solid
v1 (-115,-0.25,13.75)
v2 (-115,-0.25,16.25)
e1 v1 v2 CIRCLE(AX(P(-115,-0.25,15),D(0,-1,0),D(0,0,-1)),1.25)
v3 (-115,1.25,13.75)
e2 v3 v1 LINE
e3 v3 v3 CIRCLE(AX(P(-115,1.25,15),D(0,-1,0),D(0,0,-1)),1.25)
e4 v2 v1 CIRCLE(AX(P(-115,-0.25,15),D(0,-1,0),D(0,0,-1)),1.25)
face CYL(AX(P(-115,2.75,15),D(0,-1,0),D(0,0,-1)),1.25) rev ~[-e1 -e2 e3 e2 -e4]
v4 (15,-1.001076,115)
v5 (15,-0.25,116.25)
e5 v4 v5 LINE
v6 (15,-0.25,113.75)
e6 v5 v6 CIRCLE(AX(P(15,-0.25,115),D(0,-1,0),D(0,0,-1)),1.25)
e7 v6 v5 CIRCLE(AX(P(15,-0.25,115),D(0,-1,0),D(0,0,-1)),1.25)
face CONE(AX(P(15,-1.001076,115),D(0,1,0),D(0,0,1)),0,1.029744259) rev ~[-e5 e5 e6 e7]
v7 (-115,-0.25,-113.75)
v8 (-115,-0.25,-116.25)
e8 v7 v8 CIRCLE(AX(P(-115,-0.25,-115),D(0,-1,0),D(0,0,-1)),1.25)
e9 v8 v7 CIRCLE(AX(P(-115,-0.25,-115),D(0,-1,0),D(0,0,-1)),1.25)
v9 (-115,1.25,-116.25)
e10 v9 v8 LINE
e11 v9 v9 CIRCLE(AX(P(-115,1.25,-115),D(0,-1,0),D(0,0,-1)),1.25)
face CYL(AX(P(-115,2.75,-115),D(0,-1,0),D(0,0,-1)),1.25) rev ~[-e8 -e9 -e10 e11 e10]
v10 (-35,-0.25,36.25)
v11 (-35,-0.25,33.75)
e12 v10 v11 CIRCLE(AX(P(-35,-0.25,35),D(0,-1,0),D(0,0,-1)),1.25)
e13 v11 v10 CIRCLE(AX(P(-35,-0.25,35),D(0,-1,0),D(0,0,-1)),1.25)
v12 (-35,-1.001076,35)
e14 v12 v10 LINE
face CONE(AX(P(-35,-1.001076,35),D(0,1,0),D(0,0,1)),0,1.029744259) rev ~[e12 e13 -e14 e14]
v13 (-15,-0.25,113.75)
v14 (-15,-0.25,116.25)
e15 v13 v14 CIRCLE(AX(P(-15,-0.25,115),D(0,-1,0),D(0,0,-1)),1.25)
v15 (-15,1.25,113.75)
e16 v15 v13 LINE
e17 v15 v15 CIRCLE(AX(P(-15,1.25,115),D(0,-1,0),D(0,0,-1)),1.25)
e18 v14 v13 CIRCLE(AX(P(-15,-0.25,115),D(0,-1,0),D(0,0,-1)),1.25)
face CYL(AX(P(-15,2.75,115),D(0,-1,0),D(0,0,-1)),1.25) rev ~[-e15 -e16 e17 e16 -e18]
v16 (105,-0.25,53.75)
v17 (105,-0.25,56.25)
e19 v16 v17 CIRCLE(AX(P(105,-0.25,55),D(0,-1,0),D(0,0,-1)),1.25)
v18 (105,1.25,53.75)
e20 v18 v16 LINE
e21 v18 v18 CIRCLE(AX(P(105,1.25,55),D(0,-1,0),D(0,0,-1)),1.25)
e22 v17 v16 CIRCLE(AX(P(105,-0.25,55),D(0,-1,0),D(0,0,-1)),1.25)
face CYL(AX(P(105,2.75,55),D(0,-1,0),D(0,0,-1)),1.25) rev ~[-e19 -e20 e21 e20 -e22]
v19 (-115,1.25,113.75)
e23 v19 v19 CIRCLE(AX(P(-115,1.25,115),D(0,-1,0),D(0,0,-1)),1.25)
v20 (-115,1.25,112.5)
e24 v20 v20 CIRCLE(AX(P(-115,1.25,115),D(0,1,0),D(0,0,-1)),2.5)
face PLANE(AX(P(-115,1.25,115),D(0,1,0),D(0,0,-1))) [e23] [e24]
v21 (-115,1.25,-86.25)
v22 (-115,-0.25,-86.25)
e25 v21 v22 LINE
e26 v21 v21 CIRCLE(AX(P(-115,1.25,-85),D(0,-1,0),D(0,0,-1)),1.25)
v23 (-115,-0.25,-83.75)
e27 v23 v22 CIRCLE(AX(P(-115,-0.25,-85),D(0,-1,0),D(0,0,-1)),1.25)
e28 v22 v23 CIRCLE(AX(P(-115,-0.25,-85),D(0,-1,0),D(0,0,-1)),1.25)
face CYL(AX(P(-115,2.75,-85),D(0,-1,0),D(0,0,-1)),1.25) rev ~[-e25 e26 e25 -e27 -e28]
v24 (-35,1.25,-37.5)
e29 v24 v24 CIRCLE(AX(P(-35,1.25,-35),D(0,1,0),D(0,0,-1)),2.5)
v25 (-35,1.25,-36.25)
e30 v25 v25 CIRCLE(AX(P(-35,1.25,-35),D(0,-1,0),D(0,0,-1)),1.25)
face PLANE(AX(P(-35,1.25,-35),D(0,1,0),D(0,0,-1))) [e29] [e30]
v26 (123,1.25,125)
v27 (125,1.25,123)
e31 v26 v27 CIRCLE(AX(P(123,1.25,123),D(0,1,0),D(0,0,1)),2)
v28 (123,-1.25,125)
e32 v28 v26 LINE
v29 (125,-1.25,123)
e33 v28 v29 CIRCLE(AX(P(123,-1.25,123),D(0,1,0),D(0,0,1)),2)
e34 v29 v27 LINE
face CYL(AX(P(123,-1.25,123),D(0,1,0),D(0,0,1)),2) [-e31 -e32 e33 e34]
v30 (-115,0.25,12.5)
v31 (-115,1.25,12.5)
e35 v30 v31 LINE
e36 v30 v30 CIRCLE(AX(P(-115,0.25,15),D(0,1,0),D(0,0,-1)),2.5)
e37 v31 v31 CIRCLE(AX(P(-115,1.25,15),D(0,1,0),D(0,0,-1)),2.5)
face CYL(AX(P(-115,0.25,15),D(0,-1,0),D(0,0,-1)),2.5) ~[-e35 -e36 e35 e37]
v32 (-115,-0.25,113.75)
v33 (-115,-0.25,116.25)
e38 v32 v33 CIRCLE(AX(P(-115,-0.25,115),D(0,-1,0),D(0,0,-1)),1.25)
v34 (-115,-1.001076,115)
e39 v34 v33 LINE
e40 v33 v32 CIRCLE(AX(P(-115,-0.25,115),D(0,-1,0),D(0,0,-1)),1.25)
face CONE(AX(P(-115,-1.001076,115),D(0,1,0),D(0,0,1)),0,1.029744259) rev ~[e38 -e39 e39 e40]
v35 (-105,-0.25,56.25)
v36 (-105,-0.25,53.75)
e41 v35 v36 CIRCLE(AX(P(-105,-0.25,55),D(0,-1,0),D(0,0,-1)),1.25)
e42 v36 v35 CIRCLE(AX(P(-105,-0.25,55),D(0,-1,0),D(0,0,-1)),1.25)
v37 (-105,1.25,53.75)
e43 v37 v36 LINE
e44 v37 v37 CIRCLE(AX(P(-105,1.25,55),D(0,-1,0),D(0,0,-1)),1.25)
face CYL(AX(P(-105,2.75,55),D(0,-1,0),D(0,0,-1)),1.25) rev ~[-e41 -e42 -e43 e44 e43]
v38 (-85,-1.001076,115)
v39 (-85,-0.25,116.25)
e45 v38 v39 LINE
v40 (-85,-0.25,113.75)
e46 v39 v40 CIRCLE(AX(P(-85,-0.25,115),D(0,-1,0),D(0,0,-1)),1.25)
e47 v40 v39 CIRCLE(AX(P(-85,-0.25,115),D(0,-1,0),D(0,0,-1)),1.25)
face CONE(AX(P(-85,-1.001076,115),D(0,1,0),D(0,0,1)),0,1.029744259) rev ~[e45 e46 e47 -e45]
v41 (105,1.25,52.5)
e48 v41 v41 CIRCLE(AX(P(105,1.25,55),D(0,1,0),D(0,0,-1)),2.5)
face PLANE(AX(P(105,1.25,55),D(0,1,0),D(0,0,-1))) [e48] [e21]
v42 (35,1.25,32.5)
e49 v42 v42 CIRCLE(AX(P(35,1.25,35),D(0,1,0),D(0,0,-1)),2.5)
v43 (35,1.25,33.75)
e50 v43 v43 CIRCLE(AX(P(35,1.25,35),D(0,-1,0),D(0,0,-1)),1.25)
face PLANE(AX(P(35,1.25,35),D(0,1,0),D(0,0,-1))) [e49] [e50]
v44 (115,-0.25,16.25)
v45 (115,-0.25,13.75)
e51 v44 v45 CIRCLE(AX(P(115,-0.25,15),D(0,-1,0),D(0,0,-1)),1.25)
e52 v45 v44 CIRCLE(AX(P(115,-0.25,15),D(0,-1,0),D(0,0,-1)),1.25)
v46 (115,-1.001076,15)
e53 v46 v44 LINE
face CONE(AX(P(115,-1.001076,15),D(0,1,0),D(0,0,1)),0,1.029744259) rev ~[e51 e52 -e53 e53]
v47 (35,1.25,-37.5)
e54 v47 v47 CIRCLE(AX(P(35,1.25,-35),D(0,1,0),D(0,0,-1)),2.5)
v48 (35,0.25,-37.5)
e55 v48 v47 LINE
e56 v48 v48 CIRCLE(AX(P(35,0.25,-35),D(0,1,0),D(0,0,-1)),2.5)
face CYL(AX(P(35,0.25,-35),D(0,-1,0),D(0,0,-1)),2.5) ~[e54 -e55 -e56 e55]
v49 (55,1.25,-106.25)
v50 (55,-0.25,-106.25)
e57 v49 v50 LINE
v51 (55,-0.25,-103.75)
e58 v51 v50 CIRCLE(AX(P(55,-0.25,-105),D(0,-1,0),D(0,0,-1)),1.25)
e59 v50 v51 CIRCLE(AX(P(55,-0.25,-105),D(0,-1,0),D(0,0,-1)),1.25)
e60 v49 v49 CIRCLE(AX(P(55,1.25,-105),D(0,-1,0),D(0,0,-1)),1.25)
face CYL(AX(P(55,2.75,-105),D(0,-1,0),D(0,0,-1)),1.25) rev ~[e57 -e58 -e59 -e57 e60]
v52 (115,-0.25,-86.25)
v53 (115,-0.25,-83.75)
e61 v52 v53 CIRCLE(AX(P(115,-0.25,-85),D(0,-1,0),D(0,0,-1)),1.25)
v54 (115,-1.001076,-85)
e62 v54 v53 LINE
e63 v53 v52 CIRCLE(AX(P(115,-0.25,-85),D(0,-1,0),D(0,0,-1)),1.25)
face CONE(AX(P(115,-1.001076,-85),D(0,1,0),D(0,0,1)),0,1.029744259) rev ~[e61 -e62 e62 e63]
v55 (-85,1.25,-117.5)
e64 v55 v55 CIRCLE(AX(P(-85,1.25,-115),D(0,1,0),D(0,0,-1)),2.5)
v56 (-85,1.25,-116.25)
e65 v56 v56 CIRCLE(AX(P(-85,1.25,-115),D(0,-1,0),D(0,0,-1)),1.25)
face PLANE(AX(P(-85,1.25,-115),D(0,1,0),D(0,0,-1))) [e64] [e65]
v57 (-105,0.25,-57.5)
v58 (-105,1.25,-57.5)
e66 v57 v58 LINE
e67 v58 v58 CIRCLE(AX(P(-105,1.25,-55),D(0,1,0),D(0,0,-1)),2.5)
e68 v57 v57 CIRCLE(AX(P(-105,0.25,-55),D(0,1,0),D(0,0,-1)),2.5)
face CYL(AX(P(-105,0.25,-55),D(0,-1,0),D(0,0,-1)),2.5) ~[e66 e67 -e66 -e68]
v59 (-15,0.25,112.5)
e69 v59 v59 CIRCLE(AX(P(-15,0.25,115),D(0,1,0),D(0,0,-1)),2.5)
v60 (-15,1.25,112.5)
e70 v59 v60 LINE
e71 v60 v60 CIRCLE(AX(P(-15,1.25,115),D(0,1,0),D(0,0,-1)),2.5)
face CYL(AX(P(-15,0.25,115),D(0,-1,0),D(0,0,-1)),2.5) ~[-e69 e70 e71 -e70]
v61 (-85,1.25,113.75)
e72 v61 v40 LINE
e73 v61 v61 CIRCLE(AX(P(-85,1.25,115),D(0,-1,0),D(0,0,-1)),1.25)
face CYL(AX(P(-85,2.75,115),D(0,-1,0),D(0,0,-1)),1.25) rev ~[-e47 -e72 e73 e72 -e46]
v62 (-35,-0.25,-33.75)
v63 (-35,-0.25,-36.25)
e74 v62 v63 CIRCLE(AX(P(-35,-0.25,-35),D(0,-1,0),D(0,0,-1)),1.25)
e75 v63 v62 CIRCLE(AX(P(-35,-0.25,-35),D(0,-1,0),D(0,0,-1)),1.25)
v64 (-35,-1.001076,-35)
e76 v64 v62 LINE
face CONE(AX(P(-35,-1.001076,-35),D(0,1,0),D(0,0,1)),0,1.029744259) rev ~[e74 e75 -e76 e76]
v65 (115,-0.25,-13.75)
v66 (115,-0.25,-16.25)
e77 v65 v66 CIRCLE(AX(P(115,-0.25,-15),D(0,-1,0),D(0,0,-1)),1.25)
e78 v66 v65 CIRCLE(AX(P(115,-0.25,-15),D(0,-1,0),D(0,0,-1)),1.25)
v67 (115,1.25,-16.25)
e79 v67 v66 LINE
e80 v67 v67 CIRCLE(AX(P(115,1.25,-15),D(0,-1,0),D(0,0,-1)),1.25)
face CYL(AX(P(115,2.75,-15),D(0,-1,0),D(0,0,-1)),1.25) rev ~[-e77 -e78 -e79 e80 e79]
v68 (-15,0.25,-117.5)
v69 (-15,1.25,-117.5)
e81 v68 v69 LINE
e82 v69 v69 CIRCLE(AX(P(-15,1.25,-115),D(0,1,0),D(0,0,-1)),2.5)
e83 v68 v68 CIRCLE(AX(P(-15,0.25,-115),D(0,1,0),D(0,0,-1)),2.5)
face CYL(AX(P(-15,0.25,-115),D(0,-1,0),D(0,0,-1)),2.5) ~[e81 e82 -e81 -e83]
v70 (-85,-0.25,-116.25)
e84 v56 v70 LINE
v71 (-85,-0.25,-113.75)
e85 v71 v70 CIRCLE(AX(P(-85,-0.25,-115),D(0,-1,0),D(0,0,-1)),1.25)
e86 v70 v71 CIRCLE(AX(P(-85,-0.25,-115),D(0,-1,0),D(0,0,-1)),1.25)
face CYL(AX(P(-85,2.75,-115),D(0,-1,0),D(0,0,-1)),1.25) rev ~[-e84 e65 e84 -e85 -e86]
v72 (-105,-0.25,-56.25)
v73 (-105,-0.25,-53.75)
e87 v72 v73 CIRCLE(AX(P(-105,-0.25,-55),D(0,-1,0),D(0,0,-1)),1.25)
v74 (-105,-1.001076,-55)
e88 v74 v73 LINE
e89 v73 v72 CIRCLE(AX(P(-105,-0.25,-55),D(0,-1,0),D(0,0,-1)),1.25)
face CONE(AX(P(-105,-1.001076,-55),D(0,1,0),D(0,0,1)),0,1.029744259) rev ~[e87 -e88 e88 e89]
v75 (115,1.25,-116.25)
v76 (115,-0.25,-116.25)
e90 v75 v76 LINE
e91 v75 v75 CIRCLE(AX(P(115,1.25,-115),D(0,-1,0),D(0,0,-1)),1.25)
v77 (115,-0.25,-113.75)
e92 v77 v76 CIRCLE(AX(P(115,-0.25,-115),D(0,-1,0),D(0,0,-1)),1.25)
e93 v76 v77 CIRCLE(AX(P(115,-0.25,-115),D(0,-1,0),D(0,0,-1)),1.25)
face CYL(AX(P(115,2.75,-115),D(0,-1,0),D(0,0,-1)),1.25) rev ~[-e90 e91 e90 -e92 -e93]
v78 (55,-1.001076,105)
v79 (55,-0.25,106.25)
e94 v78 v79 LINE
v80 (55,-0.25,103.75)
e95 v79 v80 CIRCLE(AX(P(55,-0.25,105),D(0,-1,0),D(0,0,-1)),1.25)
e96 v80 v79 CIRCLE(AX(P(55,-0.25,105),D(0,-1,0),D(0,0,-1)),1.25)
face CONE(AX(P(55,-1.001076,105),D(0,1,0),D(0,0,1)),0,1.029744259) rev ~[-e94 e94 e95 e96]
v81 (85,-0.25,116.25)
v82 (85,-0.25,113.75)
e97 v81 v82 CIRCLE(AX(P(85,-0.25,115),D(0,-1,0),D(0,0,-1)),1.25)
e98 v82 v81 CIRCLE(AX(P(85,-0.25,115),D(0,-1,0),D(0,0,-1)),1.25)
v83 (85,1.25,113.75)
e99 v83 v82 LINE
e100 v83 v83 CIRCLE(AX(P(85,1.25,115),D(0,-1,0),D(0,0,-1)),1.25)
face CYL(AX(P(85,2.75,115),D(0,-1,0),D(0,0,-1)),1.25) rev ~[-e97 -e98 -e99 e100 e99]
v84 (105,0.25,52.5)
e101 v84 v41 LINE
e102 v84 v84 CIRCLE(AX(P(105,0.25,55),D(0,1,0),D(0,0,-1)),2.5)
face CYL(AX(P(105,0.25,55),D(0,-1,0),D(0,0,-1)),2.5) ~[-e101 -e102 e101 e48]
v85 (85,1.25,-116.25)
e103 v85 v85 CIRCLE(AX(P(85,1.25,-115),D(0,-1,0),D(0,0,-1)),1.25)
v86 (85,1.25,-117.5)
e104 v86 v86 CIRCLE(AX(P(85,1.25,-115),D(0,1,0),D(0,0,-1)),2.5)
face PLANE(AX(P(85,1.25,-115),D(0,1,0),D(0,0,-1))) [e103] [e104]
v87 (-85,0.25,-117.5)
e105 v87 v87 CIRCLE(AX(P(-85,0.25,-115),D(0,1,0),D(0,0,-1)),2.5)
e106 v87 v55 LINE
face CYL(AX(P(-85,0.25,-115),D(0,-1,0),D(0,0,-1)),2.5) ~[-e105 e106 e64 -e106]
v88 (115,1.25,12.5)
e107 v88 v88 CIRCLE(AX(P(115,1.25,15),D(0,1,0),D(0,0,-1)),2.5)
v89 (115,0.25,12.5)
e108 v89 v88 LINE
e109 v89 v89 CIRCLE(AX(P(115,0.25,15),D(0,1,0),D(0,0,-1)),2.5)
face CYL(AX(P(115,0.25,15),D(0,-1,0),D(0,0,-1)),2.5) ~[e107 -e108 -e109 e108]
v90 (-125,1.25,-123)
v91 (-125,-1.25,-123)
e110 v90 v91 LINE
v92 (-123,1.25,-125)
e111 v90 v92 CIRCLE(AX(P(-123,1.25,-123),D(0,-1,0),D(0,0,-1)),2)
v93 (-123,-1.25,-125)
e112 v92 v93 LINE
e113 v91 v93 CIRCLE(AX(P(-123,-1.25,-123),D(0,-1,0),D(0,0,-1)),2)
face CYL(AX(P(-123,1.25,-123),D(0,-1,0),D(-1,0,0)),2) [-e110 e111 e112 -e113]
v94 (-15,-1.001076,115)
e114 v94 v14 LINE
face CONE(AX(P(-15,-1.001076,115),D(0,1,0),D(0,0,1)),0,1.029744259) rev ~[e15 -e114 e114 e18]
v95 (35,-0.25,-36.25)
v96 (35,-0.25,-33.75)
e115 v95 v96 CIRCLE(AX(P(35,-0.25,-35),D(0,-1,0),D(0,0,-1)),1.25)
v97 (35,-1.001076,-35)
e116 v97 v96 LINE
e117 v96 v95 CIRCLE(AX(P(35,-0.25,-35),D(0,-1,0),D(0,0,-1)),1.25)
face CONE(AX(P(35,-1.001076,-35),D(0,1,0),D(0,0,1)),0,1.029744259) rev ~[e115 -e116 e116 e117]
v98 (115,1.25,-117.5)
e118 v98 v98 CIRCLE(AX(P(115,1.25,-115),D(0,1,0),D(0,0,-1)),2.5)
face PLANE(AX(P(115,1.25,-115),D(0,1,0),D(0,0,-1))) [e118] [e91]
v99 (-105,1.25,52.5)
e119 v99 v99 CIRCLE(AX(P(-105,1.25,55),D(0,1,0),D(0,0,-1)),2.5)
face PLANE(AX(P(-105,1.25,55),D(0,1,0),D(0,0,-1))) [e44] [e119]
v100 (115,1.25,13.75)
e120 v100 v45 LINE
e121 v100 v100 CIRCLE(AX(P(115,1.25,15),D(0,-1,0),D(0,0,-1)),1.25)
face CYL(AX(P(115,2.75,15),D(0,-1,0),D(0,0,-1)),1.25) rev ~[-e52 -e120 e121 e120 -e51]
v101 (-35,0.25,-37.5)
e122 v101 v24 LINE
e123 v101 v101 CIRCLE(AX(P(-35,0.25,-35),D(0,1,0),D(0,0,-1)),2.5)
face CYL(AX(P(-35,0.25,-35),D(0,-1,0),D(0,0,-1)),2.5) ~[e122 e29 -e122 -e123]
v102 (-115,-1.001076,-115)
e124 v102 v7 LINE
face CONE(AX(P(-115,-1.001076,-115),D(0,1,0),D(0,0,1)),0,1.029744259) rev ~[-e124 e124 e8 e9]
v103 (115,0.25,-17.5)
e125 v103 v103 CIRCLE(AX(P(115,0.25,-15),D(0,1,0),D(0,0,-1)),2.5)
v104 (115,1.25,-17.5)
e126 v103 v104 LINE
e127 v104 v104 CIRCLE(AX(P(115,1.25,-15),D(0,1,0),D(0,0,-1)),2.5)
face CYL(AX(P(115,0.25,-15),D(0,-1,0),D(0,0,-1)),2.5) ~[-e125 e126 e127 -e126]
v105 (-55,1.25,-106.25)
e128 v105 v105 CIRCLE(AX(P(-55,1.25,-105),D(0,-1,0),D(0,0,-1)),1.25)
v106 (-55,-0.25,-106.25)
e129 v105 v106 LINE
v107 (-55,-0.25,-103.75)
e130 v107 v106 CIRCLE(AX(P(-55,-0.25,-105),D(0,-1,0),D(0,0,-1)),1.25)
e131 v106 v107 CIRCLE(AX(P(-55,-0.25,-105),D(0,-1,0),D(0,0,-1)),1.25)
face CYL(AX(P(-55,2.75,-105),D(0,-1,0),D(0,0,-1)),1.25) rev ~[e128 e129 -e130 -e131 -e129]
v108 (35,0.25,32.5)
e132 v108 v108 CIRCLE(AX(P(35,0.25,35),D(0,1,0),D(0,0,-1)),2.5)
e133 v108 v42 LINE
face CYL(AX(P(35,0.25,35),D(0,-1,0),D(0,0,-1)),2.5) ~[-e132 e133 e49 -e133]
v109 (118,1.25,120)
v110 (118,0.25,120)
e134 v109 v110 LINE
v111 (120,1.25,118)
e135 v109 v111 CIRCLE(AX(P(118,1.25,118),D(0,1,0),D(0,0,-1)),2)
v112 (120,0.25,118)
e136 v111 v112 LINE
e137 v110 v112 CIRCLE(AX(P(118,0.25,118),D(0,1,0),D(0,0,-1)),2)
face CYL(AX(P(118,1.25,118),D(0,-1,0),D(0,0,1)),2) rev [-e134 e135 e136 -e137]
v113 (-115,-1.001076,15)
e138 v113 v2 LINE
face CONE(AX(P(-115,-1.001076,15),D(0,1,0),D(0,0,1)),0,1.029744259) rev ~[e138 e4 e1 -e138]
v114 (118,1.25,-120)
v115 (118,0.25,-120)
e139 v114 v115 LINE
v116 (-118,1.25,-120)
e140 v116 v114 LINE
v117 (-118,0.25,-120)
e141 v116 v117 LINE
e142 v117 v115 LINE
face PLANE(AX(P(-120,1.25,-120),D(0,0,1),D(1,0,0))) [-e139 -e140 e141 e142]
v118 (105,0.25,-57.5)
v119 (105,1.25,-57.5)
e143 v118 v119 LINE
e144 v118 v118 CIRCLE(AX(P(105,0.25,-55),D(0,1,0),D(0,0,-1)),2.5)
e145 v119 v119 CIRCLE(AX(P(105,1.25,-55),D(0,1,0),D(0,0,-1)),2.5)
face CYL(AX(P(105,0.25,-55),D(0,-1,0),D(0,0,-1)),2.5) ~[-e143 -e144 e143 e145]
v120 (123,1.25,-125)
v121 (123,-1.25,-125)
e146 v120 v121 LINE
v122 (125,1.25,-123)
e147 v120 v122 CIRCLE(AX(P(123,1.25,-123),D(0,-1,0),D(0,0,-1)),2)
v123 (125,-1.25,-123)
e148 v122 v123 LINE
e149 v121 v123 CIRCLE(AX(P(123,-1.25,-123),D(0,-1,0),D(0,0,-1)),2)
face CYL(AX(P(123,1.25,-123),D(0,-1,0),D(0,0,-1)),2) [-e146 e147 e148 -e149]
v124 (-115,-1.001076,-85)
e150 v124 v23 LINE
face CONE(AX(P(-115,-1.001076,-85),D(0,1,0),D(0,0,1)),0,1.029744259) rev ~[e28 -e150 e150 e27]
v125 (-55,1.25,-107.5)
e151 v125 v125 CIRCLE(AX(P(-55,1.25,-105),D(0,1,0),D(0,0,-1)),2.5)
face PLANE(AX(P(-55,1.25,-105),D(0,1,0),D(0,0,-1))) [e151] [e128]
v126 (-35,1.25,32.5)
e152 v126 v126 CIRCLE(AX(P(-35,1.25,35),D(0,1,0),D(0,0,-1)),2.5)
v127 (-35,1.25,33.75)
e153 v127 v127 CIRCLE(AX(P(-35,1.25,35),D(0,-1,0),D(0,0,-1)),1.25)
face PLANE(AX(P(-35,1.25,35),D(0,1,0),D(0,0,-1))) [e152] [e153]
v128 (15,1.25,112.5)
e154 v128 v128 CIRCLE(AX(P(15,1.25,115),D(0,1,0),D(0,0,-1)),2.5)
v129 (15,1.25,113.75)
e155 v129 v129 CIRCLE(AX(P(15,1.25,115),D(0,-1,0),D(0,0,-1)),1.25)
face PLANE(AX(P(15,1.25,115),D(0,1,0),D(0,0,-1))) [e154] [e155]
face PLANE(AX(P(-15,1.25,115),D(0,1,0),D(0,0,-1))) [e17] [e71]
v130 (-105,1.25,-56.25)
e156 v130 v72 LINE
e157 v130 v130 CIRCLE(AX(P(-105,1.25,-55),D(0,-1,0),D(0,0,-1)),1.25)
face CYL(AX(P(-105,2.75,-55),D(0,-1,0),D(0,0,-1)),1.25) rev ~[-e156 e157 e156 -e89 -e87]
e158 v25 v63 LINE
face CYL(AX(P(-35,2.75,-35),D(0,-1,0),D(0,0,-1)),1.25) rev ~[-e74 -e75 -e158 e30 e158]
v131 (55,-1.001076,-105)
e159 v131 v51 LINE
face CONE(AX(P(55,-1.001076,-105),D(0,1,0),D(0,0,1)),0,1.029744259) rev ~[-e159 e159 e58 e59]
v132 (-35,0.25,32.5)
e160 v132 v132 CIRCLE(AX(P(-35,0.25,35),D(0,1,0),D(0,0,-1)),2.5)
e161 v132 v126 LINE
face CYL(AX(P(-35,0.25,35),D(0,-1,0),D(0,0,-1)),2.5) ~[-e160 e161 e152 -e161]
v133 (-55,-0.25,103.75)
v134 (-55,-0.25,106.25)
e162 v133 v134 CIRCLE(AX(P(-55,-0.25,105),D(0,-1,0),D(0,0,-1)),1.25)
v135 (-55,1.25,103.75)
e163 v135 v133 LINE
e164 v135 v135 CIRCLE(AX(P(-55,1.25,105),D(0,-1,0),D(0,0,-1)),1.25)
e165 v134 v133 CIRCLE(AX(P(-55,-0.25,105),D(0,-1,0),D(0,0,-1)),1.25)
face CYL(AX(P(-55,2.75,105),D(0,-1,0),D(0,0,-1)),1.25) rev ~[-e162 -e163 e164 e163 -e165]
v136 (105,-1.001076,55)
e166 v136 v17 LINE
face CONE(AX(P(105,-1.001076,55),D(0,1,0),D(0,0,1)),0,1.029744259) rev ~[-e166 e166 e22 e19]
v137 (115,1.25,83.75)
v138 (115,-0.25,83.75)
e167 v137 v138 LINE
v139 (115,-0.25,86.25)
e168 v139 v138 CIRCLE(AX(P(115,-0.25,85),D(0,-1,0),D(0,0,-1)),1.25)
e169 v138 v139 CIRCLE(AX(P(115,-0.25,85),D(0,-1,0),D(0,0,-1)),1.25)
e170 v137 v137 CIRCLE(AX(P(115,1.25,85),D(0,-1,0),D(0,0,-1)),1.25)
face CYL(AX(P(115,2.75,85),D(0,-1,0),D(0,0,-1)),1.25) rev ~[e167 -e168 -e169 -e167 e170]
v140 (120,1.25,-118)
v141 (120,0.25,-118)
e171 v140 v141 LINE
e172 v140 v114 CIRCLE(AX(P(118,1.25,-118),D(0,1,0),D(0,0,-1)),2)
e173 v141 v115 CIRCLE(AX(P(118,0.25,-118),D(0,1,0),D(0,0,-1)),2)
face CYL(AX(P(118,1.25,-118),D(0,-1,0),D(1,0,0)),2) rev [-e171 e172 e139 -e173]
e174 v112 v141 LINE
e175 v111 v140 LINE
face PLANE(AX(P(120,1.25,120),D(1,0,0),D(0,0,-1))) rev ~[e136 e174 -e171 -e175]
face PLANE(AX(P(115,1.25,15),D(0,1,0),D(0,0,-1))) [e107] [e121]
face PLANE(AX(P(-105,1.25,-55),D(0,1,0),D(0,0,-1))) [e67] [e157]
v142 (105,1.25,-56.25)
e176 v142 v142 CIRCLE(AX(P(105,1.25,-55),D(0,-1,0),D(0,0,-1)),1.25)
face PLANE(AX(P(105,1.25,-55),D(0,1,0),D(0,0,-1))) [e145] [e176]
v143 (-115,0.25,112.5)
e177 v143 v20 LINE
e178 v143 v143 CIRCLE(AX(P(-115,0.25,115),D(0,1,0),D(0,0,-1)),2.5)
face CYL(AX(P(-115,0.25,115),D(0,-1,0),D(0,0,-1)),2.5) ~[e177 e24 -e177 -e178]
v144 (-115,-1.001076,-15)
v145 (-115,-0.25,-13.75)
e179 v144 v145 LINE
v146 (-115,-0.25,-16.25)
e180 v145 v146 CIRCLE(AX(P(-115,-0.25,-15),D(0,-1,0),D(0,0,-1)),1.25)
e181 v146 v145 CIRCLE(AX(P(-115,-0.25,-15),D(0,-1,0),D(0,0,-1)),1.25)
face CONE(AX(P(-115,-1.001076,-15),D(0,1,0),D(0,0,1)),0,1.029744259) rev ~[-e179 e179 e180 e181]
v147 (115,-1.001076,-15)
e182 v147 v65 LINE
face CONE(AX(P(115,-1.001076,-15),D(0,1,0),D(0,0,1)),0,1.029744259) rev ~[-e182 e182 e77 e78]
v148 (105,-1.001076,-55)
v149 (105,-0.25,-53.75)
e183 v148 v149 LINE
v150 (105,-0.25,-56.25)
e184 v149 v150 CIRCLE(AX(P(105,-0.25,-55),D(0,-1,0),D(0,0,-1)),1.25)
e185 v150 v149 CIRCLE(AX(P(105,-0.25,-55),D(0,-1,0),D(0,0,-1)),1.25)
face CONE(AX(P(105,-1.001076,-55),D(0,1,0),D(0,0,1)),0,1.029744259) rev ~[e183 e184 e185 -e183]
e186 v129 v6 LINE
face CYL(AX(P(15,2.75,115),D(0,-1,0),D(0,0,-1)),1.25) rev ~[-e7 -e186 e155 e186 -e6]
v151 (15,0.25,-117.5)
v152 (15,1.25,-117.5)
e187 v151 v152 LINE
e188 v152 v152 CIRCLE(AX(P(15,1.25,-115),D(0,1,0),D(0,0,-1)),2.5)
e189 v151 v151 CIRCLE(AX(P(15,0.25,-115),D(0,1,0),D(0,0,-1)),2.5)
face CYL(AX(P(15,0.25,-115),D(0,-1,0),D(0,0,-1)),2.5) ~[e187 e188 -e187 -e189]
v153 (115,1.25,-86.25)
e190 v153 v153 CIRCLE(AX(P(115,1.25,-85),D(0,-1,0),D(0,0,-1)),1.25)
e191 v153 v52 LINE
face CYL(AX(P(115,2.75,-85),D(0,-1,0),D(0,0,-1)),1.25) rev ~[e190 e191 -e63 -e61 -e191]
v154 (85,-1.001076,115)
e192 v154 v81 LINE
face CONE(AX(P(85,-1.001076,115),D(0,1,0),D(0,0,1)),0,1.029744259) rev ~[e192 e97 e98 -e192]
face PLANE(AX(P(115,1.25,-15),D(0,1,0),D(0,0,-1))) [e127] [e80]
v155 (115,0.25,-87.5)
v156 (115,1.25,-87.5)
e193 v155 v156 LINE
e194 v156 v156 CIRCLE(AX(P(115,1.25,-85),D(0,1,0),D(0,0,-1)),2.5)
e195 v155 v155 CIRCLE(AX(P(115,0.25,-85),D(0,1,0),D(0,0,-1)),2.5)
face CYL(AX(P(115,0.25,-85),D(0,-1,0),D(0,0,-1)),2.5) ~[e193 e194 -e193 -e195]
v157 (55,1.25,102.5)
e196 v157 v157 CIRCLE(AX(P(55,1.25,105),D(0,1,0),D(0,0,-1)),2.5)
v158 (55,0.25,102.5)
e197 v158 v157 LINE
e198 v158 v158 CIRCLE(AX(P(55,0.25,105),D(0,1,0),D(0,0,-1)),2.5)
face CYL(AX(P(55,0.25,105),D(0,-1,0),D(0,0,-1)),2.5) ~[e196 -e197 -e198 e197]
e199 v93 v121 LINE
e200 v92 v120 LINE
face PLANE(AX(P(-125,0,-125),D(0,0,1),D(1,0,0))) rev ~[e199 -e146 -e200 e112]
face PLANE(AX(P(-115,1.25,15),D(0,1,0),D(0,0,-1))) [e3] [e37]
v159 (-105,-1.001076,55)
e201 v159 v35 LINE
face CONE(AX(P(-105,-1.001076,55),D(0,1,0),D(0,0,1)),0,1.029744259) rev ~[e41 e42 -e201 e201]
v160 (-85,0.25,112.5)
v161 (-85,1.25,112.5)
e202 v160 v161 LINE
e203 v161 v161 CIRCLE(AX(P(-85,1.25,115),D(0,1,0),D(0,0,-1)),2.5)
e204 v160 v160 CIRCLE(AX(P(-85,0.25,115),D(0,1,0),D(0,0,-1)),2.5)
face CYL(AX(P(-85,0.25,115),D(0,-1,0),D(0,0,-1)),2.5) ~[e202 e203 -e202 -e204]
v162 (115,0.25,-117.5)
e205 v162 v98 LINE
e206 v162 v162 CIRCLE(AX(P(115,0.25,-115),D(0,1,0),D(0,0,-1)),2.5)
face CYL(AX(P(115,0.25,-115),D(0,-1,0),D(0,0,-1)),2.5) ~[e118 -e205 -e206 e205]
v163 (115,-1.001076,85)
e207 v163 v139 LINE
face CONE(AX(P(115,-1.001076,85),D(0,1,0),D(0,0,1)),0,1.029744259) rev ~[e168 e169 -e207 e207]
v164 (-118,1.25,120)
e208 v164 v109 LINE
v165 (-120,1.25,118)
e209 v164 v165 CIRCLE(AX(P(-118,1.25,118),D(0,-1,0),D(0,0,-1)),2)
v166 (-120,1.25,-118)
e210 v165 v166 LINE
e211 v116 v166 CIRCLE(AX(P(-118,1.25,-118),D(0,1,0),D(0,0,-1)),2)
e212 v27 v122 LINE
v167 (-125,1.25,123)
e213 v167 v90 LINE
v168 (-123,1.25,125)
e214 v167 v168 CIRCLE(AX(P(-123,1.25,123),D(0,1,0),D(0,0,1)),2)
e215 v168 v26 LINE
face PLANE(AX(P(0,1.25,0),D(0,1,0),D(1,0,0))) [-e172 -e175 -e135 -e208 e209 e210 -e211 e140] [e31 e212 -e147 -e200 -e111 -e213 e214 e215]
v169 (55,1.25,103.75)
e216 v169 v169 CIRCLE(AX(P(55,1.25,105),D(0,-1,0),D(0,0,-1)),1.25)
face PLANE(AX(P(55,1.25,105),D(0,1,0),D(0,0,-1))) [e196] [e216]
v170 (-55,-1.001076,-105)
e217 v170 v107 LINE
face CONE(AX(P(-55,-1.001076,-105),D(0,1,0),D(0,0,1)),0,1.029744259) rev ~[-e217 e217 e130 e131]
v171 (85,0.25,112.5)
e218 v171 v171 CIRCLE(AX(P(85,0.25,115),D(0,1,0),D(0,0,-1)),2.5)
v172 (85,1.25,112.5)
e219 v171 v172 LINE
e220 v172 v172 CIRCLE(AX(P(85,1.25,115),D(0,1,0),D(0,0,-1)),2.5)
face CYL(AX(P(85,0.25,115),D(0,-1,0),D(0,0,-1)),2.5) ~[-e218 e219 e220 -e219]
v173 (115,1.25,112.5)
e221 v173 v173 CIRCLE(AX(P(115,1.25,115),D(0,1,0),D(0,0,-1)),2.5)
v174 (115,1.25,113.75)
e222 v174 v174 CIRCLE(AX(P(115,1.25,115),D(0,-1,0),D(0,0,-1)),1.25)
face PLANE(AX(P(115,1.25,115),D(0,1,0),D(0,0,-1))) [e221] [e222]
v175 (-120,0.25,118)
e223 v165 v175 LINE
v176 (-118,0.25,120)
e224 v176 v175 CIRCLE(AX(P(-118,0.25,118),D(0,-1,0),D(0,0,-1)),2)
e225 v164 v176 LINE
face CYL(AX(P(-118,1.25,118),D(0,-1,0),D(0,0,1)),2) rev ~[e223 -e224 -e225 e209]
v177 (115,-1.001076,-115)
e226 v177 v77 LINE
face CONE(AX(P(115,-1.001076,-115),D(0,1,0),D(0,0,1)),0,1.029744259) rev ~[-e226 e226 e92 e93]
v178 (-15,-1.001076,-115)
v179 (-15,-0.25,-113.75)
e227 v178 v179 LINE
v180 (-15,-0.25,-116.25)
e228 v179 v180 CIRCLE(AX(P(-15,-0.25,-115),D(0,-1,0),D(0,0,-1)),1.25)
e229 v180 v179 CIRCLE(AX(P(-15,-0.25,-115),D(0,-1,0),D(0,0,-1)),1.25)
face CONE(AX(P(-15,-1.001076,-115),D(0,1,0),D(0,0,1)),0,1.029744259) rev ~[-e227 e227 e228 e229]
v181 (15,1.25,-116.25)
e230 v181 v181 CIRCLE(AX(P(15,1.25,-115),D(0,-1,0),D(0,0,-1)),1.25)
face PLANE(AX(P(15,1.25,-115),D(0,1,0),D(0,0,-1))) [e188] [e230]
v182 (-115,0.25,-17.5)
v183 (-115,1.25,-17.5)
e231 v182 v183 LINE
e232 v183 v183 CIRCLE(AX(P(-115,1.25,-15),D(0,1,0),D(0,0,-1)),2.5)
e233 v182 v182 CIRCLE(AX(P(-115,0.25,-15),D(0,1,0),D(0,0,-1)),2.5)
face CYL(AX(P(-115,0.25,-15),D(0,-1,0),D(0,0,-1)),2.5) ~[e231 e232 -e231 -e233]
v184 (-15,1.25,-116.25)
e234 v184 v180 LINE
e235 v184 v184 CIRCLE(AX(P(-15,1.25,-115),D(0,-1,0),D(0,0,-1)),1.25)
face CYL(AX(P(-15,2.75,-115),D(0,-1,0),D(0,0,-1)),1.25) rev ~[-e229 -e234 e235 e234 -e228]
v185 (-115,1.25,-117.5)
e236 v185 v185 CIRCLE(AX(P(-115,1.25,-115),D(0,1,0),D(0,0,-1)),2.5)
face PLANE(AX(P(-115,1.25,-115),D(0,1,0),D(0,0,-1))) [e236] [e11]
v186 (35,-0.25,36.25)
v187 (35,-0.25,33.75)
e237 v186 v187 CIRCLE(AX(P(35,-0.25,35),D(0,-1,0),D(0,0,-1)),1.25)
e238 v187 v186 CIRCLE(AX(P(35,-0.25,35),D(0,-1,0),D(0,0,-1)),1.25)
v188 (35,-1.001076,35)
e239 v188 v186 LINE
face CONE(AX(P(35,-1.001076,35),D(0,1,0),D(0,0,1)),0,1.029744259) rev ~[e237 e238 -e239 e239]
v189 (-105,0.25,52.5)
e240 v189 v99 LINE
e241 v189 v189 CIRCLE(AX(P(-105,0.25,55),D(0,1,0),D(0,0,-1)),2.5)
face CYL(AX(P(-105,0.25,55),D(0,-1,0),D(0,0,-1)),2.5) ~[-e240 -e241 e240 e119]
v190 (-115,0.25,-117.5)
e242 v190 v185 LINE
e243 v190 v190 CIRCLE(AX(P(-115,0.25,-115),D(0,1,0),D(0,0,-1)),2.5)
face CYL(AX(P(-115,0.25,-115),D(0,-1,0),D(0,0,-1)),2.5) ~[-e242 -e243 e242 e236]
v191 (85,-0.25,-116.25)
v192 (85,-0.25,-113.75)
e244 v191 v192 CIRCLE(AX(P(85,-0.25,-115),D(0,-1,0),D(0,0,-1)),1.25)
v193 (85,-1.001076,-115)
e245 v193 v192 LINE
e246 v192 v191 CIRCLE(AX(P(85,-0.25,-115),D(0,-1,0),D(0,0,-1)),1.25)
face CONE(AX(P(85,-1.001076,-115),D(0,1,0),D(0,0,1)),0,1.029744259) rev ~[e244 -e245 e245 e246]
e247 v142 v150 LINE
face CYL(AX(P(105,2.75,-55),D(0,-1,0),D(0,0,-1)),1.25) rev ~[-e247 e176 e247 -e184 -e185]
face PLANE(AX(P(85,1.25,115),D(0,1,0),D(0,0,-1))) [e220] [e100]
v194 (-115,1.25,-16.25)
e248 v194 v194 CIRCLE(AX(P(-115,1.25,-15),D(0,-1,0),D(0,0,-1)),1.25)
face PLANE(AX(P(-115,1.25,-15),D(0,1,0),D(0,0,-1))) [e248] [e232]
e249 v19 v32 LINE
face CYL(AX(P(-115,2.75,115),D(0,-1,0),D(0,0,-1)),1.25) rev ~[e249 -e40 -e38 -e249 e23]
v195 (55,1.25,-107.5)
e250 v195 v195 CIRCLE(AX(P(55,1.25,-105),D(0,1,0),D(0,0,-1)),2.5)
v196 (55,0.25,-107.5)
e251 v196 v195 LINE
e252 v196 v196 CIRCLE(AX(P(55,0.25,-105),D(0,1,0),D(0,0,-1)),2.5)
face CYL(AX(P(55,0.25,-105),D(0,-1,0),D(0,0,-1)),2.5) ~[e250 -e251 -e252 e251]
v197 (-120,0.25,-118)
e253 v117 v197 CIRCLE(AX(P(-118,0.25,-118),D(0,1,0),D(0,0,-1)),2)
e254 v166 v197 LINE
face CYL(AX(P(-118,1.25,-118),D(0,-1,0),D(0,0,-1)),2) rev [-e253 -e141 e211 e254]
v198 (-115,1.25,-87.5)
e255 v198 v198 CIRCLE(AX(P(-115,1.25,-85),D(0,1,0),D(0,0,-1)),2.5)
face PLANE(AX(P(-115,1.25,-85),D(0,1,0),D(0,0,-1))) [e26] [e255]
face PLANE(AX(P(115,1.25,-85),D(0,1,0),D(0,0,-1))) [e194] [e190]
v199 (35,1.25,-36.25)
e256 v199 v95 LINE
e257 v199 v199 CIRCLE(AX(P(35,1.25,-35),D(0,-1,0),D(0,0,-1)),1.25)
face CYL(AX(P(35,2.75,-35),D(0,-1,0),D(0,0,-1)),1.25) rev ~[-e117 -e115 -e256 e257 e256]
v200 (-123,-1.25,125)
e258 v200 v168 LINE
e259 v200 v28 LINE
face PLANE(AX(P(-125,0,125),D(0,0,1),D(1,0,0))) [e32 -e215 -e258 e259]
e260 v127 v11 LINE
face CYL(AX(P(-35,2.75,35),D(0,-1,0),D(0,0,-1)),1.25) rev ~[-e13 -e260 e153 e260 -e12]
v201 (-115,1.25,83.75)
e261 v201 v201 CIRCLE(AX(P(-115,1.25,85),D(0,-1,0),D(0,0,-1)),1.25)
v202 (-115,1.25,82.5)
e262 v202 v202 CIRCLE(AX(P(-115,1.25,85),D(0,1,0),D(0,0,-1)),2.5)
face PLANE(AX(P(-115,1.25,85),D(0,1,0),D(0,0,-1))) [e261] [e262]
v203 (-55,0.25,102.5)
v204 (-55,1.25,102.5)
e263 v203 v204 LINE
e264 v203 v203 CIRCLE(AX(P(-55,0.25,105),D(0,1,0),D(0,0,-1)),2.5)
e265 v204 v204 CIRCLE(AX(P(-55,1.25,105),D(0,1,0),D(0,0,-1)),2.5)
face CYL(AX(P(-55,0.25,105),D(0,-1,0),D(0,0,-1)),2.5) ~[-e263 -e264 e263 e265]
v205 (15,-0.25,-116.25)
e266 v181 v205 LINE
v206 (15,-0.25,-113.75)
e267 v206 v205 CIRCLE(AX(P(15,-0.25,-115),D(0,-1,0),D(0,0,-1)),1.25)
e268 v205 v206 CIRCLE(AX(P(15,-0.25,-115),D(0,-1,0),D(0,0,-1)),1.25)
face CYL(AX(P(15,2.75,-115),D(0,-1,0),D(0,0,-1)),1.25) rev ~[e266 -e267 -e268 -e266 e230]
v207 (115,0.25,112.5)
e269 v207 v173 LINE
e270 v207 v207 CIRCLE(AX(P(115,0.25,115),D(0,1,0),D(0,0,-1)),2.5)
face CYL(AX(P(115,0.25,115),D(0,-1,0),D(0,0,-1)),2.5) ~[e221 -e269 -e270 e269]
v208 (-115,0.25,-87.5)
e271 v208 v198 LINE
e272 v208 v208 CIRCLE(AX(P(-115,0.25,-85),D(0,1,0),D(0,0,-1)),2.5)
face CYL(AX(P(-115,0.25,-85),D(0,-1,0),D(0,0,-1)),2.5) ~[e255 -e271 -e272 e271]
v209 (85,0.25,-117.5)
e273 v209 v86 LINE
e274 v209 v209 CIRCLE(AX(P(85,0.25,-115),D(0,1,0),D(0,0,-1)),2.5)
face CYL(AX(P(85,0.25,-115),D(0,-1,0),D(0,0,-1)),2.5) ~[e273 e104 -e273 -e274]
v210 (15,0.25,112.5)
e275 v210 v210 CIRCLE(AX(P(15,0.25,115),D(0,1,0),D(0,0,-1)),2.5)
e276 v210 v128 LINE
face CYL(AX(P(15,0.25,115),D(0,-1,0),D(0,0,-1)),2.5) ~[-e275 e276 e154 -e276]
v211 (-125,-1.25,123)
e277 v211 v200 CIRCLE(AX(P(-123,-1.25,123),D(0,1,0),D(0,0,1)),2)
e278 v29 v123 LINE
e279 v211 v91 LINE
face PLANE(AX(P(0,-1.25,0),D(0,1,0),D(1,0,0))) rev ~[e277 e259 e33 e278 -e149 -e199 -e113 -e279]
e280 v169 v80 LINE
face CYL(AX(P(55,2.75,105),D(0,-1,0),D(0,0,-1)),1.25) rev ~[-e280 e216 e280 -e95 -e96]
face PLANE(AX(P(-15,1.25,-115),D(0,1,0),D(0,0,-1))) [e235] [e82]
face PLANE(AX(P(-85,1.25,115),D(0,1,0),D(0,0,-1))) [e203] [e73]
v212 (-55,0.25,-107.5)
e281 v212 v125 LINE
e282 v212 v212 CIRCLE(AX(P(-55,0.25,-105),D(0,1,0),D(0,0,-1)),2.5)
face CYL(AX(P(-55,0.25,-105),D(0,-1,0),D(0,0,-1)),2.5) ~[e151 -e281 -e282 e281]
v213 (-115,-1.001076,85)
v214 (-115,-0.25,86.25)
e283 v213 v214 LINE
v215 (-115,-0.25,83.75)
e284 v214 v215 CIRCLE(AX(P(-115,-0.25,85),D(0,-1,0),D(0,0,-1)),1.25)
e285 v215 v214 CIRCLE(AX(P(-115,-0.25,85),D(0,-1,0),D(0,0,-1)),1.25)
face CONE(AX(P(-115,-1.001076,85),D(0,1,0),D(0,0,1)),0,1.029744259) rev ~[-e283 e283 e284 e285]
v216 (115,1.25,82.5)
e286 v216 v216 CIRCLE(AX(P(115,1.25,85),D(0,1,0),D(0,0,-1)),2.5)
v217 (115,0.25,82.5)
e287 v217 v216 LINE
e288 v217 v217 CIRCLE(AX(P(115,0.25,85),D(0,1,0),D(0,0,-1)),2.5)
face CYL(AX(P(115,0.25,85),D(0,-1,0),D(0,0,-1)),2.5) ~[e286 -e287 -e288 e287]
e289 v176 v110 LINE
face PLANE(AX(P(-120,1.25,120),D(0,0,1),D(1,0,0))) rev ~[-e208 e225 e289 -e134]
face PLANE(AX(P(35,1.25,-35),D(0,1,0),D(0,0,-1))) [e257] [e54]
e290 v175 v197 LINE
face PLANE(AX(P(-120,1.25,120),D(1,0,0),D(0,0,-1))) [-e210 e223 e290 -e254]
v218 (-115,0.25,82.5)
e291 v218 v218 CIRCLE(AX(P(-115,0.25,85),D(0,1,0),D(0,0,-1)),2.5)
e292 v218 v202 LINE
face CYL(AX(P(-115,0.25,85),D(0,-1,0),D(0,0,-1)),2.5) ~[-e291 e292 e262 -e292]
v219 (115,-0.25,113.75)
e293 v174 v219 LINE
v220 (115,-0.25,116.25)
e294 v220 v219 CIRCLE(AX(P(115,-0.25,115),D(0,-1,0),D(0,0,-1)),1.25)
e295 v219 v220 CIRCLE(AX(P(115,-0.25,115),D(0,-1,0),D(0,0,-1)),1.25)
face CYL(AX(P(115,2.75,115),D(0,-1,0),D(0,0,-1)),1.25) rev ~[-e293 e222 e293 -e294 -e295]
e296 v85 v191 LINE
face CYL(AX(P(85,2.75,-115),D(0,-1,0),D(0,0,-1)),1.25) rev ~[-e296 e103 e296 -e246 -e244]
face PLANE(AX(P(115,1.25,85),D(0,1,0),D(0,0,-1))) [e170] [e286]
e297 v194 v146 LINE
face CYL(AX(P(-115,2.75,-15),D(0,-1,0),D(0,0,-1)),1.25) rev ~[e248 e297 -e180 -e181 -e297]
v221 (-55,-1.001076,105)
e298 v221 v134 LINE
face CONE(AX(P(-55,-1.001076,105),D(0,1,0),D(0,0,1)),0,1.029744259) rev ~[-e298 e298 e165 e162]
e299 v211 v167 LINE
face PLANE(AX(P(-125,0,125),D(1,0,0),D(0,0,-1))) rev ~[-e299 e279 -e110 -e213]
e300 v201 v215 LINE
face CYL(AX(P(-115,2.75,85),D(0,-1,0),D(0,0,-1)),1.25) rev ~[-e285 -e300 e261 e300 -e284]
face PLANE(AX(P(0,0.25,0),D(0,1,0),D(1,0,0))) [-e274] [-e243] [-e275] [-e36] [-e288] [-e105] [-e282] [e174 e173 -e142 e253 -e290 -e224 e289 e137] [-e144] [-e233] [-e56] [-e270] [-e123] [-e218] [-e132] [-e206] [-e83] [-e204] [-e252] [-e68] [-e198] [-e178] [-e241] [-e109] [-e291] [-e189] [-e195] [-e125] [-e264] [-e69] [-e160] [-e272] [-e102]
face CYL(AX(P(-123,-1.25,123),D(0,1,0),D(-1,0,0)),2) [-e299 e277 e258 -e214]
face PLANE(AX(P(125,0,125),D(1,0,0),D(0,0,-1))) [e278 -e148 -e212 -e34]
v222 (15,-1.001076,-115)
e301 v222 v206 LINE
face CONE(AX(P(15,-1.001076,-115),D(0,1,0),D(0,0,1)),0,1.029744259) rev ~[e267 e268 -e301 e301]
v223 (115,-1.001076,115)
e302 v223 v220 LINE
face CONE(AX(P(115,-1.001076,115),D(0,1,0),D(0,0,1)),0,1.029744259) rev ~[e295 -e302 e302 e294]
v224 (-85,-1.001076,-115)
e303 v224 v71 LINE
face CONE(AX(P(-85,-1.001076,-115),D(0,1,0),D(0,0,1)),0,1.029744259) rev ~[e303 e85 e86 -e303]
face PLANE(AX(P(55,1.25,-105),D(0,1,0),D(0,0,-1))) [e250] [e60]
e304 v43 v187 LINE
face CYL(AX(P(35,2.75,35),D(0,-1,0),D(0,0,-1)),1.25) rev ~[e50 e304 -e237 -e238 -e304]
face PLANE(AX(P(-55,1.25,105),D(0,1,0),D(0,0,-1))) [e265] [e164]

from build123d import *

# Parameters (mm, degrees)
SKETCH1_W                       = 250
SKETCH1_H                       = 250
BOSS_EXTRUDE1_DEPTH             = 1.25
SKETCH2_W                       = 240
SKETCH2_H                       = 240
CUT_EXTRUDE1_DEPTH              = 1
SKETCH3_R                       = 2.5
BOSS_EXTRUDE2_DEPTH             = 1
FILLET1_R                       = 2
TAP_DRILL_FOR_M3X0_5_TAP1_D     = 2.5
TAP_DRILL_FOR_M3X0_5_TAP1_DEPTH = 1.5
TAP_DRILL_FOR_M3X0_5_TAP1_TIP   = 0.751075774


with BuildPart() as part:
    # Sketch1 → Boss-Extrude1 (new, symmetric)
    with BuildSketch(Plane(origin=(0, 0, 0), x_dir=(1, 0, 0), z_dir=(0, 1, 0))):
        Rectangle(SKETCH1_W, SKETCH1_H)
    extrude(amount=BOSS_EXTRUDE1_DEPTH, both=True)

    # Sketch2 → Cut-Extrude1 (cut)
    with BuildSketch(Plane(origin=(0, 1.25, 0), x_dir=(1, 0, 0), z_dir=(0, 1, 0))):
        Rectangle(SKETCH2_W, SKETCH2_H)
    extrude(amount=-CUT_EXTRUDE1_DEPTH, mode=Mode.SUBTRACT)

    # Sketch3 → Boss-Extrude2 (add)
    with BuildSketch(Plane(origin=(0, 0.25, 0), x_dir=(1, 0, 0), z_dir=(0, 1, 0))):
        with Locations(Location((-115, -115, 0), (0, 0, 90))):
            Circle(SKETCH3_R)
        with Locations(Location((-85, -115, 0), (0, 0, 90))):
            Circle(SKETCH3_R)
        with Locations(Location((-55, -105, 0), (0, 0, 90))):
            Circle(SKETCH3_R)
        with Locations(Location((-15, -115, 0), (0, 0, 90))):
            Circle(SKETCH3_R)
        with Locations(Location((15, -115, 0), (0, 0, 90))):
            Circle(SKETCH3_R)
        with Locations(Location((55, -105, 0), (0, 0, 90))):
            Circle(SKETCH3_R)
        with Locations(Location((85, -115, 0), (0, 0, 90))):
            Circle(SKETCH3_R)
        with Locations(Location((-115, 115, 0), (0, 0, 90))):
            Circle(SKETCH3_R)
        with Locations(Location((-115, 85, 0), (0, 0, 90))):
            Circle(SKETCH3_R)
        with Locations(Location((-105, 55, 0), (0, 0, 90))):
            Circle(SKETCH3_R)
        with Locations(Location((-115, 15, 0), (0, 0, 90))):
            Circle(SKETCH3_R)
        with Locations(Location((-115, -15, 0), (0, 0, 90))):
            Circle(SKETCH3_R)
        with Locations(Location((-105, -55, 0), (0, 0, 90))):
            Circle(SKETCH3_R)
        with Locations(Location((-115, -85, 0), (0, 0, 90))):
            Circle(SKETCH3_R)
        with Locations(Location((115, 115, 0), (0, 0, 90))):
            Circle(SKETCH3_R)
        with Locations(Location((85, 115, 0), (0, 0, 90))):
            Circle(SKETCH3_R)
        with Locations(Location((55, 105, 0), (0, 0, 90))):
            Circle(SKETCH3_R)
        with Locations(Location((15, 115, 0), (0, 0, 90))):
            Circle(SKETCH3_R)
        with Locations(Location((-15, 115, 0), (0, 0, 90))):
            Circle(SKETCH3_R)
        with Locations(Location((-55, 105, 0), (0, 0, 90))):
            Circle(SKETCH3_R)
        with Locations(Location((-85, 115, 0), (0, 0, 90))):
            Circle(SKETCH3_R)
        with Locations(Location((115, -115, 0), (0, 0, 90))):
            Circle(SKETCH3_R)
        with Locations(Location((115, -85, 0), (0, 0, 90))):
            Circle(SKETCH3_R)
        with Locations(Location((105, -55, 0), (0, 0, 90))):
            Circle(SKETCH3_R)
        with Locations(Location((115, -15, 0), (0, 0, 90))):
            Circle(SKETCH3_R)
        with Locations(Location((115, 15, 0), (0, 0, 90))):
            Circle(SKETCH3_R)
        with Locations(Location((105, 55, 0), (0, 0, 90))):
            Circle(SKETCH3_R)
        with Locations(Location((115, 85, 0), (0, 0, 90))):
            Circle(SKETCH3_R)
        with Locations(Location((-35, 35, 0), (0, 0, 90))):
            Circle(SKETCH3_R)
        with Locations(Location((-35, -35, 0), (0, 0, 90))):
            Circle(SKETCH3_R)
        with Locations(Location((35, -35, 0), (0, 0, 90))):
            Circle(SKETCH3_R)
        with Locations(Location((35, 35, 0), (0, 0, 90))):
            Circle(SKETCH3_R)
    extrude(amount=BOSS_EXTRUDE2_DEPTH)

    # Fillet1
    fillet1_edges = [part.edges().sort_by_distance(p)[0] for p in [
        (120, 0.75, -120),
        (120, 0.75, 120),
        (-120, 0.75, 120),
        (-120, 0.75, -120),
        (125, 0, 125),
        (-125, 0, 125),
        (-125, 0, -125),
        (125, 0, -125),
    ]]
    fillet(fillet1_edges, radius=FILLET1_R)

    # Tap Drill for M3x0.5 Tap1
    with Locations(Plane(origin=(-115, 1.25, 115), x_dir=(0, 0, 1), z_dir=(0, 1, 0))):
        with Locations((0, 0), (0, 30), (-30, 0), (-60, 10), (-100, 0), (-130, 0), (-200, 0), (-170, 10), (-230, 0), (-230, 30), (-220, 60), (-230, 100), (-230, 130), (-150, 80), (-150, 150), (-10, 60), (-80, 80), (-80, 150), (0, 100), (0, 130), (-10, 170), (0, 200), (0, 230), (-30, 230), (-60, 220), (-100, 230), (-130, 230), (-170, 220), (-220, 170), (-230, 200), (-230, 230), (-200, 230)):
            Hole(TAP_DRILL_FOR_M3X0_5_TAP1_D / 2, depth=TAP_DRILL_FOR_M3X0_5_TAP1_DEPTH)
            with Locations((0, 0, -(TAP_DRILL_FOR_M3X0_5_TAP1_DEPTH + TAP_DRILL_FOR_M3X0_5_TAP1_TIP / 2))):  # 118° drill point
                Cone(0, TAP_DRILL_FOR_M3X0_5_TAP1_D / 2, TAP_DRILL_FOR_M3X0_5_TAP1_TIP, mode=Mode.SUBTRACT)


solid = part.part
